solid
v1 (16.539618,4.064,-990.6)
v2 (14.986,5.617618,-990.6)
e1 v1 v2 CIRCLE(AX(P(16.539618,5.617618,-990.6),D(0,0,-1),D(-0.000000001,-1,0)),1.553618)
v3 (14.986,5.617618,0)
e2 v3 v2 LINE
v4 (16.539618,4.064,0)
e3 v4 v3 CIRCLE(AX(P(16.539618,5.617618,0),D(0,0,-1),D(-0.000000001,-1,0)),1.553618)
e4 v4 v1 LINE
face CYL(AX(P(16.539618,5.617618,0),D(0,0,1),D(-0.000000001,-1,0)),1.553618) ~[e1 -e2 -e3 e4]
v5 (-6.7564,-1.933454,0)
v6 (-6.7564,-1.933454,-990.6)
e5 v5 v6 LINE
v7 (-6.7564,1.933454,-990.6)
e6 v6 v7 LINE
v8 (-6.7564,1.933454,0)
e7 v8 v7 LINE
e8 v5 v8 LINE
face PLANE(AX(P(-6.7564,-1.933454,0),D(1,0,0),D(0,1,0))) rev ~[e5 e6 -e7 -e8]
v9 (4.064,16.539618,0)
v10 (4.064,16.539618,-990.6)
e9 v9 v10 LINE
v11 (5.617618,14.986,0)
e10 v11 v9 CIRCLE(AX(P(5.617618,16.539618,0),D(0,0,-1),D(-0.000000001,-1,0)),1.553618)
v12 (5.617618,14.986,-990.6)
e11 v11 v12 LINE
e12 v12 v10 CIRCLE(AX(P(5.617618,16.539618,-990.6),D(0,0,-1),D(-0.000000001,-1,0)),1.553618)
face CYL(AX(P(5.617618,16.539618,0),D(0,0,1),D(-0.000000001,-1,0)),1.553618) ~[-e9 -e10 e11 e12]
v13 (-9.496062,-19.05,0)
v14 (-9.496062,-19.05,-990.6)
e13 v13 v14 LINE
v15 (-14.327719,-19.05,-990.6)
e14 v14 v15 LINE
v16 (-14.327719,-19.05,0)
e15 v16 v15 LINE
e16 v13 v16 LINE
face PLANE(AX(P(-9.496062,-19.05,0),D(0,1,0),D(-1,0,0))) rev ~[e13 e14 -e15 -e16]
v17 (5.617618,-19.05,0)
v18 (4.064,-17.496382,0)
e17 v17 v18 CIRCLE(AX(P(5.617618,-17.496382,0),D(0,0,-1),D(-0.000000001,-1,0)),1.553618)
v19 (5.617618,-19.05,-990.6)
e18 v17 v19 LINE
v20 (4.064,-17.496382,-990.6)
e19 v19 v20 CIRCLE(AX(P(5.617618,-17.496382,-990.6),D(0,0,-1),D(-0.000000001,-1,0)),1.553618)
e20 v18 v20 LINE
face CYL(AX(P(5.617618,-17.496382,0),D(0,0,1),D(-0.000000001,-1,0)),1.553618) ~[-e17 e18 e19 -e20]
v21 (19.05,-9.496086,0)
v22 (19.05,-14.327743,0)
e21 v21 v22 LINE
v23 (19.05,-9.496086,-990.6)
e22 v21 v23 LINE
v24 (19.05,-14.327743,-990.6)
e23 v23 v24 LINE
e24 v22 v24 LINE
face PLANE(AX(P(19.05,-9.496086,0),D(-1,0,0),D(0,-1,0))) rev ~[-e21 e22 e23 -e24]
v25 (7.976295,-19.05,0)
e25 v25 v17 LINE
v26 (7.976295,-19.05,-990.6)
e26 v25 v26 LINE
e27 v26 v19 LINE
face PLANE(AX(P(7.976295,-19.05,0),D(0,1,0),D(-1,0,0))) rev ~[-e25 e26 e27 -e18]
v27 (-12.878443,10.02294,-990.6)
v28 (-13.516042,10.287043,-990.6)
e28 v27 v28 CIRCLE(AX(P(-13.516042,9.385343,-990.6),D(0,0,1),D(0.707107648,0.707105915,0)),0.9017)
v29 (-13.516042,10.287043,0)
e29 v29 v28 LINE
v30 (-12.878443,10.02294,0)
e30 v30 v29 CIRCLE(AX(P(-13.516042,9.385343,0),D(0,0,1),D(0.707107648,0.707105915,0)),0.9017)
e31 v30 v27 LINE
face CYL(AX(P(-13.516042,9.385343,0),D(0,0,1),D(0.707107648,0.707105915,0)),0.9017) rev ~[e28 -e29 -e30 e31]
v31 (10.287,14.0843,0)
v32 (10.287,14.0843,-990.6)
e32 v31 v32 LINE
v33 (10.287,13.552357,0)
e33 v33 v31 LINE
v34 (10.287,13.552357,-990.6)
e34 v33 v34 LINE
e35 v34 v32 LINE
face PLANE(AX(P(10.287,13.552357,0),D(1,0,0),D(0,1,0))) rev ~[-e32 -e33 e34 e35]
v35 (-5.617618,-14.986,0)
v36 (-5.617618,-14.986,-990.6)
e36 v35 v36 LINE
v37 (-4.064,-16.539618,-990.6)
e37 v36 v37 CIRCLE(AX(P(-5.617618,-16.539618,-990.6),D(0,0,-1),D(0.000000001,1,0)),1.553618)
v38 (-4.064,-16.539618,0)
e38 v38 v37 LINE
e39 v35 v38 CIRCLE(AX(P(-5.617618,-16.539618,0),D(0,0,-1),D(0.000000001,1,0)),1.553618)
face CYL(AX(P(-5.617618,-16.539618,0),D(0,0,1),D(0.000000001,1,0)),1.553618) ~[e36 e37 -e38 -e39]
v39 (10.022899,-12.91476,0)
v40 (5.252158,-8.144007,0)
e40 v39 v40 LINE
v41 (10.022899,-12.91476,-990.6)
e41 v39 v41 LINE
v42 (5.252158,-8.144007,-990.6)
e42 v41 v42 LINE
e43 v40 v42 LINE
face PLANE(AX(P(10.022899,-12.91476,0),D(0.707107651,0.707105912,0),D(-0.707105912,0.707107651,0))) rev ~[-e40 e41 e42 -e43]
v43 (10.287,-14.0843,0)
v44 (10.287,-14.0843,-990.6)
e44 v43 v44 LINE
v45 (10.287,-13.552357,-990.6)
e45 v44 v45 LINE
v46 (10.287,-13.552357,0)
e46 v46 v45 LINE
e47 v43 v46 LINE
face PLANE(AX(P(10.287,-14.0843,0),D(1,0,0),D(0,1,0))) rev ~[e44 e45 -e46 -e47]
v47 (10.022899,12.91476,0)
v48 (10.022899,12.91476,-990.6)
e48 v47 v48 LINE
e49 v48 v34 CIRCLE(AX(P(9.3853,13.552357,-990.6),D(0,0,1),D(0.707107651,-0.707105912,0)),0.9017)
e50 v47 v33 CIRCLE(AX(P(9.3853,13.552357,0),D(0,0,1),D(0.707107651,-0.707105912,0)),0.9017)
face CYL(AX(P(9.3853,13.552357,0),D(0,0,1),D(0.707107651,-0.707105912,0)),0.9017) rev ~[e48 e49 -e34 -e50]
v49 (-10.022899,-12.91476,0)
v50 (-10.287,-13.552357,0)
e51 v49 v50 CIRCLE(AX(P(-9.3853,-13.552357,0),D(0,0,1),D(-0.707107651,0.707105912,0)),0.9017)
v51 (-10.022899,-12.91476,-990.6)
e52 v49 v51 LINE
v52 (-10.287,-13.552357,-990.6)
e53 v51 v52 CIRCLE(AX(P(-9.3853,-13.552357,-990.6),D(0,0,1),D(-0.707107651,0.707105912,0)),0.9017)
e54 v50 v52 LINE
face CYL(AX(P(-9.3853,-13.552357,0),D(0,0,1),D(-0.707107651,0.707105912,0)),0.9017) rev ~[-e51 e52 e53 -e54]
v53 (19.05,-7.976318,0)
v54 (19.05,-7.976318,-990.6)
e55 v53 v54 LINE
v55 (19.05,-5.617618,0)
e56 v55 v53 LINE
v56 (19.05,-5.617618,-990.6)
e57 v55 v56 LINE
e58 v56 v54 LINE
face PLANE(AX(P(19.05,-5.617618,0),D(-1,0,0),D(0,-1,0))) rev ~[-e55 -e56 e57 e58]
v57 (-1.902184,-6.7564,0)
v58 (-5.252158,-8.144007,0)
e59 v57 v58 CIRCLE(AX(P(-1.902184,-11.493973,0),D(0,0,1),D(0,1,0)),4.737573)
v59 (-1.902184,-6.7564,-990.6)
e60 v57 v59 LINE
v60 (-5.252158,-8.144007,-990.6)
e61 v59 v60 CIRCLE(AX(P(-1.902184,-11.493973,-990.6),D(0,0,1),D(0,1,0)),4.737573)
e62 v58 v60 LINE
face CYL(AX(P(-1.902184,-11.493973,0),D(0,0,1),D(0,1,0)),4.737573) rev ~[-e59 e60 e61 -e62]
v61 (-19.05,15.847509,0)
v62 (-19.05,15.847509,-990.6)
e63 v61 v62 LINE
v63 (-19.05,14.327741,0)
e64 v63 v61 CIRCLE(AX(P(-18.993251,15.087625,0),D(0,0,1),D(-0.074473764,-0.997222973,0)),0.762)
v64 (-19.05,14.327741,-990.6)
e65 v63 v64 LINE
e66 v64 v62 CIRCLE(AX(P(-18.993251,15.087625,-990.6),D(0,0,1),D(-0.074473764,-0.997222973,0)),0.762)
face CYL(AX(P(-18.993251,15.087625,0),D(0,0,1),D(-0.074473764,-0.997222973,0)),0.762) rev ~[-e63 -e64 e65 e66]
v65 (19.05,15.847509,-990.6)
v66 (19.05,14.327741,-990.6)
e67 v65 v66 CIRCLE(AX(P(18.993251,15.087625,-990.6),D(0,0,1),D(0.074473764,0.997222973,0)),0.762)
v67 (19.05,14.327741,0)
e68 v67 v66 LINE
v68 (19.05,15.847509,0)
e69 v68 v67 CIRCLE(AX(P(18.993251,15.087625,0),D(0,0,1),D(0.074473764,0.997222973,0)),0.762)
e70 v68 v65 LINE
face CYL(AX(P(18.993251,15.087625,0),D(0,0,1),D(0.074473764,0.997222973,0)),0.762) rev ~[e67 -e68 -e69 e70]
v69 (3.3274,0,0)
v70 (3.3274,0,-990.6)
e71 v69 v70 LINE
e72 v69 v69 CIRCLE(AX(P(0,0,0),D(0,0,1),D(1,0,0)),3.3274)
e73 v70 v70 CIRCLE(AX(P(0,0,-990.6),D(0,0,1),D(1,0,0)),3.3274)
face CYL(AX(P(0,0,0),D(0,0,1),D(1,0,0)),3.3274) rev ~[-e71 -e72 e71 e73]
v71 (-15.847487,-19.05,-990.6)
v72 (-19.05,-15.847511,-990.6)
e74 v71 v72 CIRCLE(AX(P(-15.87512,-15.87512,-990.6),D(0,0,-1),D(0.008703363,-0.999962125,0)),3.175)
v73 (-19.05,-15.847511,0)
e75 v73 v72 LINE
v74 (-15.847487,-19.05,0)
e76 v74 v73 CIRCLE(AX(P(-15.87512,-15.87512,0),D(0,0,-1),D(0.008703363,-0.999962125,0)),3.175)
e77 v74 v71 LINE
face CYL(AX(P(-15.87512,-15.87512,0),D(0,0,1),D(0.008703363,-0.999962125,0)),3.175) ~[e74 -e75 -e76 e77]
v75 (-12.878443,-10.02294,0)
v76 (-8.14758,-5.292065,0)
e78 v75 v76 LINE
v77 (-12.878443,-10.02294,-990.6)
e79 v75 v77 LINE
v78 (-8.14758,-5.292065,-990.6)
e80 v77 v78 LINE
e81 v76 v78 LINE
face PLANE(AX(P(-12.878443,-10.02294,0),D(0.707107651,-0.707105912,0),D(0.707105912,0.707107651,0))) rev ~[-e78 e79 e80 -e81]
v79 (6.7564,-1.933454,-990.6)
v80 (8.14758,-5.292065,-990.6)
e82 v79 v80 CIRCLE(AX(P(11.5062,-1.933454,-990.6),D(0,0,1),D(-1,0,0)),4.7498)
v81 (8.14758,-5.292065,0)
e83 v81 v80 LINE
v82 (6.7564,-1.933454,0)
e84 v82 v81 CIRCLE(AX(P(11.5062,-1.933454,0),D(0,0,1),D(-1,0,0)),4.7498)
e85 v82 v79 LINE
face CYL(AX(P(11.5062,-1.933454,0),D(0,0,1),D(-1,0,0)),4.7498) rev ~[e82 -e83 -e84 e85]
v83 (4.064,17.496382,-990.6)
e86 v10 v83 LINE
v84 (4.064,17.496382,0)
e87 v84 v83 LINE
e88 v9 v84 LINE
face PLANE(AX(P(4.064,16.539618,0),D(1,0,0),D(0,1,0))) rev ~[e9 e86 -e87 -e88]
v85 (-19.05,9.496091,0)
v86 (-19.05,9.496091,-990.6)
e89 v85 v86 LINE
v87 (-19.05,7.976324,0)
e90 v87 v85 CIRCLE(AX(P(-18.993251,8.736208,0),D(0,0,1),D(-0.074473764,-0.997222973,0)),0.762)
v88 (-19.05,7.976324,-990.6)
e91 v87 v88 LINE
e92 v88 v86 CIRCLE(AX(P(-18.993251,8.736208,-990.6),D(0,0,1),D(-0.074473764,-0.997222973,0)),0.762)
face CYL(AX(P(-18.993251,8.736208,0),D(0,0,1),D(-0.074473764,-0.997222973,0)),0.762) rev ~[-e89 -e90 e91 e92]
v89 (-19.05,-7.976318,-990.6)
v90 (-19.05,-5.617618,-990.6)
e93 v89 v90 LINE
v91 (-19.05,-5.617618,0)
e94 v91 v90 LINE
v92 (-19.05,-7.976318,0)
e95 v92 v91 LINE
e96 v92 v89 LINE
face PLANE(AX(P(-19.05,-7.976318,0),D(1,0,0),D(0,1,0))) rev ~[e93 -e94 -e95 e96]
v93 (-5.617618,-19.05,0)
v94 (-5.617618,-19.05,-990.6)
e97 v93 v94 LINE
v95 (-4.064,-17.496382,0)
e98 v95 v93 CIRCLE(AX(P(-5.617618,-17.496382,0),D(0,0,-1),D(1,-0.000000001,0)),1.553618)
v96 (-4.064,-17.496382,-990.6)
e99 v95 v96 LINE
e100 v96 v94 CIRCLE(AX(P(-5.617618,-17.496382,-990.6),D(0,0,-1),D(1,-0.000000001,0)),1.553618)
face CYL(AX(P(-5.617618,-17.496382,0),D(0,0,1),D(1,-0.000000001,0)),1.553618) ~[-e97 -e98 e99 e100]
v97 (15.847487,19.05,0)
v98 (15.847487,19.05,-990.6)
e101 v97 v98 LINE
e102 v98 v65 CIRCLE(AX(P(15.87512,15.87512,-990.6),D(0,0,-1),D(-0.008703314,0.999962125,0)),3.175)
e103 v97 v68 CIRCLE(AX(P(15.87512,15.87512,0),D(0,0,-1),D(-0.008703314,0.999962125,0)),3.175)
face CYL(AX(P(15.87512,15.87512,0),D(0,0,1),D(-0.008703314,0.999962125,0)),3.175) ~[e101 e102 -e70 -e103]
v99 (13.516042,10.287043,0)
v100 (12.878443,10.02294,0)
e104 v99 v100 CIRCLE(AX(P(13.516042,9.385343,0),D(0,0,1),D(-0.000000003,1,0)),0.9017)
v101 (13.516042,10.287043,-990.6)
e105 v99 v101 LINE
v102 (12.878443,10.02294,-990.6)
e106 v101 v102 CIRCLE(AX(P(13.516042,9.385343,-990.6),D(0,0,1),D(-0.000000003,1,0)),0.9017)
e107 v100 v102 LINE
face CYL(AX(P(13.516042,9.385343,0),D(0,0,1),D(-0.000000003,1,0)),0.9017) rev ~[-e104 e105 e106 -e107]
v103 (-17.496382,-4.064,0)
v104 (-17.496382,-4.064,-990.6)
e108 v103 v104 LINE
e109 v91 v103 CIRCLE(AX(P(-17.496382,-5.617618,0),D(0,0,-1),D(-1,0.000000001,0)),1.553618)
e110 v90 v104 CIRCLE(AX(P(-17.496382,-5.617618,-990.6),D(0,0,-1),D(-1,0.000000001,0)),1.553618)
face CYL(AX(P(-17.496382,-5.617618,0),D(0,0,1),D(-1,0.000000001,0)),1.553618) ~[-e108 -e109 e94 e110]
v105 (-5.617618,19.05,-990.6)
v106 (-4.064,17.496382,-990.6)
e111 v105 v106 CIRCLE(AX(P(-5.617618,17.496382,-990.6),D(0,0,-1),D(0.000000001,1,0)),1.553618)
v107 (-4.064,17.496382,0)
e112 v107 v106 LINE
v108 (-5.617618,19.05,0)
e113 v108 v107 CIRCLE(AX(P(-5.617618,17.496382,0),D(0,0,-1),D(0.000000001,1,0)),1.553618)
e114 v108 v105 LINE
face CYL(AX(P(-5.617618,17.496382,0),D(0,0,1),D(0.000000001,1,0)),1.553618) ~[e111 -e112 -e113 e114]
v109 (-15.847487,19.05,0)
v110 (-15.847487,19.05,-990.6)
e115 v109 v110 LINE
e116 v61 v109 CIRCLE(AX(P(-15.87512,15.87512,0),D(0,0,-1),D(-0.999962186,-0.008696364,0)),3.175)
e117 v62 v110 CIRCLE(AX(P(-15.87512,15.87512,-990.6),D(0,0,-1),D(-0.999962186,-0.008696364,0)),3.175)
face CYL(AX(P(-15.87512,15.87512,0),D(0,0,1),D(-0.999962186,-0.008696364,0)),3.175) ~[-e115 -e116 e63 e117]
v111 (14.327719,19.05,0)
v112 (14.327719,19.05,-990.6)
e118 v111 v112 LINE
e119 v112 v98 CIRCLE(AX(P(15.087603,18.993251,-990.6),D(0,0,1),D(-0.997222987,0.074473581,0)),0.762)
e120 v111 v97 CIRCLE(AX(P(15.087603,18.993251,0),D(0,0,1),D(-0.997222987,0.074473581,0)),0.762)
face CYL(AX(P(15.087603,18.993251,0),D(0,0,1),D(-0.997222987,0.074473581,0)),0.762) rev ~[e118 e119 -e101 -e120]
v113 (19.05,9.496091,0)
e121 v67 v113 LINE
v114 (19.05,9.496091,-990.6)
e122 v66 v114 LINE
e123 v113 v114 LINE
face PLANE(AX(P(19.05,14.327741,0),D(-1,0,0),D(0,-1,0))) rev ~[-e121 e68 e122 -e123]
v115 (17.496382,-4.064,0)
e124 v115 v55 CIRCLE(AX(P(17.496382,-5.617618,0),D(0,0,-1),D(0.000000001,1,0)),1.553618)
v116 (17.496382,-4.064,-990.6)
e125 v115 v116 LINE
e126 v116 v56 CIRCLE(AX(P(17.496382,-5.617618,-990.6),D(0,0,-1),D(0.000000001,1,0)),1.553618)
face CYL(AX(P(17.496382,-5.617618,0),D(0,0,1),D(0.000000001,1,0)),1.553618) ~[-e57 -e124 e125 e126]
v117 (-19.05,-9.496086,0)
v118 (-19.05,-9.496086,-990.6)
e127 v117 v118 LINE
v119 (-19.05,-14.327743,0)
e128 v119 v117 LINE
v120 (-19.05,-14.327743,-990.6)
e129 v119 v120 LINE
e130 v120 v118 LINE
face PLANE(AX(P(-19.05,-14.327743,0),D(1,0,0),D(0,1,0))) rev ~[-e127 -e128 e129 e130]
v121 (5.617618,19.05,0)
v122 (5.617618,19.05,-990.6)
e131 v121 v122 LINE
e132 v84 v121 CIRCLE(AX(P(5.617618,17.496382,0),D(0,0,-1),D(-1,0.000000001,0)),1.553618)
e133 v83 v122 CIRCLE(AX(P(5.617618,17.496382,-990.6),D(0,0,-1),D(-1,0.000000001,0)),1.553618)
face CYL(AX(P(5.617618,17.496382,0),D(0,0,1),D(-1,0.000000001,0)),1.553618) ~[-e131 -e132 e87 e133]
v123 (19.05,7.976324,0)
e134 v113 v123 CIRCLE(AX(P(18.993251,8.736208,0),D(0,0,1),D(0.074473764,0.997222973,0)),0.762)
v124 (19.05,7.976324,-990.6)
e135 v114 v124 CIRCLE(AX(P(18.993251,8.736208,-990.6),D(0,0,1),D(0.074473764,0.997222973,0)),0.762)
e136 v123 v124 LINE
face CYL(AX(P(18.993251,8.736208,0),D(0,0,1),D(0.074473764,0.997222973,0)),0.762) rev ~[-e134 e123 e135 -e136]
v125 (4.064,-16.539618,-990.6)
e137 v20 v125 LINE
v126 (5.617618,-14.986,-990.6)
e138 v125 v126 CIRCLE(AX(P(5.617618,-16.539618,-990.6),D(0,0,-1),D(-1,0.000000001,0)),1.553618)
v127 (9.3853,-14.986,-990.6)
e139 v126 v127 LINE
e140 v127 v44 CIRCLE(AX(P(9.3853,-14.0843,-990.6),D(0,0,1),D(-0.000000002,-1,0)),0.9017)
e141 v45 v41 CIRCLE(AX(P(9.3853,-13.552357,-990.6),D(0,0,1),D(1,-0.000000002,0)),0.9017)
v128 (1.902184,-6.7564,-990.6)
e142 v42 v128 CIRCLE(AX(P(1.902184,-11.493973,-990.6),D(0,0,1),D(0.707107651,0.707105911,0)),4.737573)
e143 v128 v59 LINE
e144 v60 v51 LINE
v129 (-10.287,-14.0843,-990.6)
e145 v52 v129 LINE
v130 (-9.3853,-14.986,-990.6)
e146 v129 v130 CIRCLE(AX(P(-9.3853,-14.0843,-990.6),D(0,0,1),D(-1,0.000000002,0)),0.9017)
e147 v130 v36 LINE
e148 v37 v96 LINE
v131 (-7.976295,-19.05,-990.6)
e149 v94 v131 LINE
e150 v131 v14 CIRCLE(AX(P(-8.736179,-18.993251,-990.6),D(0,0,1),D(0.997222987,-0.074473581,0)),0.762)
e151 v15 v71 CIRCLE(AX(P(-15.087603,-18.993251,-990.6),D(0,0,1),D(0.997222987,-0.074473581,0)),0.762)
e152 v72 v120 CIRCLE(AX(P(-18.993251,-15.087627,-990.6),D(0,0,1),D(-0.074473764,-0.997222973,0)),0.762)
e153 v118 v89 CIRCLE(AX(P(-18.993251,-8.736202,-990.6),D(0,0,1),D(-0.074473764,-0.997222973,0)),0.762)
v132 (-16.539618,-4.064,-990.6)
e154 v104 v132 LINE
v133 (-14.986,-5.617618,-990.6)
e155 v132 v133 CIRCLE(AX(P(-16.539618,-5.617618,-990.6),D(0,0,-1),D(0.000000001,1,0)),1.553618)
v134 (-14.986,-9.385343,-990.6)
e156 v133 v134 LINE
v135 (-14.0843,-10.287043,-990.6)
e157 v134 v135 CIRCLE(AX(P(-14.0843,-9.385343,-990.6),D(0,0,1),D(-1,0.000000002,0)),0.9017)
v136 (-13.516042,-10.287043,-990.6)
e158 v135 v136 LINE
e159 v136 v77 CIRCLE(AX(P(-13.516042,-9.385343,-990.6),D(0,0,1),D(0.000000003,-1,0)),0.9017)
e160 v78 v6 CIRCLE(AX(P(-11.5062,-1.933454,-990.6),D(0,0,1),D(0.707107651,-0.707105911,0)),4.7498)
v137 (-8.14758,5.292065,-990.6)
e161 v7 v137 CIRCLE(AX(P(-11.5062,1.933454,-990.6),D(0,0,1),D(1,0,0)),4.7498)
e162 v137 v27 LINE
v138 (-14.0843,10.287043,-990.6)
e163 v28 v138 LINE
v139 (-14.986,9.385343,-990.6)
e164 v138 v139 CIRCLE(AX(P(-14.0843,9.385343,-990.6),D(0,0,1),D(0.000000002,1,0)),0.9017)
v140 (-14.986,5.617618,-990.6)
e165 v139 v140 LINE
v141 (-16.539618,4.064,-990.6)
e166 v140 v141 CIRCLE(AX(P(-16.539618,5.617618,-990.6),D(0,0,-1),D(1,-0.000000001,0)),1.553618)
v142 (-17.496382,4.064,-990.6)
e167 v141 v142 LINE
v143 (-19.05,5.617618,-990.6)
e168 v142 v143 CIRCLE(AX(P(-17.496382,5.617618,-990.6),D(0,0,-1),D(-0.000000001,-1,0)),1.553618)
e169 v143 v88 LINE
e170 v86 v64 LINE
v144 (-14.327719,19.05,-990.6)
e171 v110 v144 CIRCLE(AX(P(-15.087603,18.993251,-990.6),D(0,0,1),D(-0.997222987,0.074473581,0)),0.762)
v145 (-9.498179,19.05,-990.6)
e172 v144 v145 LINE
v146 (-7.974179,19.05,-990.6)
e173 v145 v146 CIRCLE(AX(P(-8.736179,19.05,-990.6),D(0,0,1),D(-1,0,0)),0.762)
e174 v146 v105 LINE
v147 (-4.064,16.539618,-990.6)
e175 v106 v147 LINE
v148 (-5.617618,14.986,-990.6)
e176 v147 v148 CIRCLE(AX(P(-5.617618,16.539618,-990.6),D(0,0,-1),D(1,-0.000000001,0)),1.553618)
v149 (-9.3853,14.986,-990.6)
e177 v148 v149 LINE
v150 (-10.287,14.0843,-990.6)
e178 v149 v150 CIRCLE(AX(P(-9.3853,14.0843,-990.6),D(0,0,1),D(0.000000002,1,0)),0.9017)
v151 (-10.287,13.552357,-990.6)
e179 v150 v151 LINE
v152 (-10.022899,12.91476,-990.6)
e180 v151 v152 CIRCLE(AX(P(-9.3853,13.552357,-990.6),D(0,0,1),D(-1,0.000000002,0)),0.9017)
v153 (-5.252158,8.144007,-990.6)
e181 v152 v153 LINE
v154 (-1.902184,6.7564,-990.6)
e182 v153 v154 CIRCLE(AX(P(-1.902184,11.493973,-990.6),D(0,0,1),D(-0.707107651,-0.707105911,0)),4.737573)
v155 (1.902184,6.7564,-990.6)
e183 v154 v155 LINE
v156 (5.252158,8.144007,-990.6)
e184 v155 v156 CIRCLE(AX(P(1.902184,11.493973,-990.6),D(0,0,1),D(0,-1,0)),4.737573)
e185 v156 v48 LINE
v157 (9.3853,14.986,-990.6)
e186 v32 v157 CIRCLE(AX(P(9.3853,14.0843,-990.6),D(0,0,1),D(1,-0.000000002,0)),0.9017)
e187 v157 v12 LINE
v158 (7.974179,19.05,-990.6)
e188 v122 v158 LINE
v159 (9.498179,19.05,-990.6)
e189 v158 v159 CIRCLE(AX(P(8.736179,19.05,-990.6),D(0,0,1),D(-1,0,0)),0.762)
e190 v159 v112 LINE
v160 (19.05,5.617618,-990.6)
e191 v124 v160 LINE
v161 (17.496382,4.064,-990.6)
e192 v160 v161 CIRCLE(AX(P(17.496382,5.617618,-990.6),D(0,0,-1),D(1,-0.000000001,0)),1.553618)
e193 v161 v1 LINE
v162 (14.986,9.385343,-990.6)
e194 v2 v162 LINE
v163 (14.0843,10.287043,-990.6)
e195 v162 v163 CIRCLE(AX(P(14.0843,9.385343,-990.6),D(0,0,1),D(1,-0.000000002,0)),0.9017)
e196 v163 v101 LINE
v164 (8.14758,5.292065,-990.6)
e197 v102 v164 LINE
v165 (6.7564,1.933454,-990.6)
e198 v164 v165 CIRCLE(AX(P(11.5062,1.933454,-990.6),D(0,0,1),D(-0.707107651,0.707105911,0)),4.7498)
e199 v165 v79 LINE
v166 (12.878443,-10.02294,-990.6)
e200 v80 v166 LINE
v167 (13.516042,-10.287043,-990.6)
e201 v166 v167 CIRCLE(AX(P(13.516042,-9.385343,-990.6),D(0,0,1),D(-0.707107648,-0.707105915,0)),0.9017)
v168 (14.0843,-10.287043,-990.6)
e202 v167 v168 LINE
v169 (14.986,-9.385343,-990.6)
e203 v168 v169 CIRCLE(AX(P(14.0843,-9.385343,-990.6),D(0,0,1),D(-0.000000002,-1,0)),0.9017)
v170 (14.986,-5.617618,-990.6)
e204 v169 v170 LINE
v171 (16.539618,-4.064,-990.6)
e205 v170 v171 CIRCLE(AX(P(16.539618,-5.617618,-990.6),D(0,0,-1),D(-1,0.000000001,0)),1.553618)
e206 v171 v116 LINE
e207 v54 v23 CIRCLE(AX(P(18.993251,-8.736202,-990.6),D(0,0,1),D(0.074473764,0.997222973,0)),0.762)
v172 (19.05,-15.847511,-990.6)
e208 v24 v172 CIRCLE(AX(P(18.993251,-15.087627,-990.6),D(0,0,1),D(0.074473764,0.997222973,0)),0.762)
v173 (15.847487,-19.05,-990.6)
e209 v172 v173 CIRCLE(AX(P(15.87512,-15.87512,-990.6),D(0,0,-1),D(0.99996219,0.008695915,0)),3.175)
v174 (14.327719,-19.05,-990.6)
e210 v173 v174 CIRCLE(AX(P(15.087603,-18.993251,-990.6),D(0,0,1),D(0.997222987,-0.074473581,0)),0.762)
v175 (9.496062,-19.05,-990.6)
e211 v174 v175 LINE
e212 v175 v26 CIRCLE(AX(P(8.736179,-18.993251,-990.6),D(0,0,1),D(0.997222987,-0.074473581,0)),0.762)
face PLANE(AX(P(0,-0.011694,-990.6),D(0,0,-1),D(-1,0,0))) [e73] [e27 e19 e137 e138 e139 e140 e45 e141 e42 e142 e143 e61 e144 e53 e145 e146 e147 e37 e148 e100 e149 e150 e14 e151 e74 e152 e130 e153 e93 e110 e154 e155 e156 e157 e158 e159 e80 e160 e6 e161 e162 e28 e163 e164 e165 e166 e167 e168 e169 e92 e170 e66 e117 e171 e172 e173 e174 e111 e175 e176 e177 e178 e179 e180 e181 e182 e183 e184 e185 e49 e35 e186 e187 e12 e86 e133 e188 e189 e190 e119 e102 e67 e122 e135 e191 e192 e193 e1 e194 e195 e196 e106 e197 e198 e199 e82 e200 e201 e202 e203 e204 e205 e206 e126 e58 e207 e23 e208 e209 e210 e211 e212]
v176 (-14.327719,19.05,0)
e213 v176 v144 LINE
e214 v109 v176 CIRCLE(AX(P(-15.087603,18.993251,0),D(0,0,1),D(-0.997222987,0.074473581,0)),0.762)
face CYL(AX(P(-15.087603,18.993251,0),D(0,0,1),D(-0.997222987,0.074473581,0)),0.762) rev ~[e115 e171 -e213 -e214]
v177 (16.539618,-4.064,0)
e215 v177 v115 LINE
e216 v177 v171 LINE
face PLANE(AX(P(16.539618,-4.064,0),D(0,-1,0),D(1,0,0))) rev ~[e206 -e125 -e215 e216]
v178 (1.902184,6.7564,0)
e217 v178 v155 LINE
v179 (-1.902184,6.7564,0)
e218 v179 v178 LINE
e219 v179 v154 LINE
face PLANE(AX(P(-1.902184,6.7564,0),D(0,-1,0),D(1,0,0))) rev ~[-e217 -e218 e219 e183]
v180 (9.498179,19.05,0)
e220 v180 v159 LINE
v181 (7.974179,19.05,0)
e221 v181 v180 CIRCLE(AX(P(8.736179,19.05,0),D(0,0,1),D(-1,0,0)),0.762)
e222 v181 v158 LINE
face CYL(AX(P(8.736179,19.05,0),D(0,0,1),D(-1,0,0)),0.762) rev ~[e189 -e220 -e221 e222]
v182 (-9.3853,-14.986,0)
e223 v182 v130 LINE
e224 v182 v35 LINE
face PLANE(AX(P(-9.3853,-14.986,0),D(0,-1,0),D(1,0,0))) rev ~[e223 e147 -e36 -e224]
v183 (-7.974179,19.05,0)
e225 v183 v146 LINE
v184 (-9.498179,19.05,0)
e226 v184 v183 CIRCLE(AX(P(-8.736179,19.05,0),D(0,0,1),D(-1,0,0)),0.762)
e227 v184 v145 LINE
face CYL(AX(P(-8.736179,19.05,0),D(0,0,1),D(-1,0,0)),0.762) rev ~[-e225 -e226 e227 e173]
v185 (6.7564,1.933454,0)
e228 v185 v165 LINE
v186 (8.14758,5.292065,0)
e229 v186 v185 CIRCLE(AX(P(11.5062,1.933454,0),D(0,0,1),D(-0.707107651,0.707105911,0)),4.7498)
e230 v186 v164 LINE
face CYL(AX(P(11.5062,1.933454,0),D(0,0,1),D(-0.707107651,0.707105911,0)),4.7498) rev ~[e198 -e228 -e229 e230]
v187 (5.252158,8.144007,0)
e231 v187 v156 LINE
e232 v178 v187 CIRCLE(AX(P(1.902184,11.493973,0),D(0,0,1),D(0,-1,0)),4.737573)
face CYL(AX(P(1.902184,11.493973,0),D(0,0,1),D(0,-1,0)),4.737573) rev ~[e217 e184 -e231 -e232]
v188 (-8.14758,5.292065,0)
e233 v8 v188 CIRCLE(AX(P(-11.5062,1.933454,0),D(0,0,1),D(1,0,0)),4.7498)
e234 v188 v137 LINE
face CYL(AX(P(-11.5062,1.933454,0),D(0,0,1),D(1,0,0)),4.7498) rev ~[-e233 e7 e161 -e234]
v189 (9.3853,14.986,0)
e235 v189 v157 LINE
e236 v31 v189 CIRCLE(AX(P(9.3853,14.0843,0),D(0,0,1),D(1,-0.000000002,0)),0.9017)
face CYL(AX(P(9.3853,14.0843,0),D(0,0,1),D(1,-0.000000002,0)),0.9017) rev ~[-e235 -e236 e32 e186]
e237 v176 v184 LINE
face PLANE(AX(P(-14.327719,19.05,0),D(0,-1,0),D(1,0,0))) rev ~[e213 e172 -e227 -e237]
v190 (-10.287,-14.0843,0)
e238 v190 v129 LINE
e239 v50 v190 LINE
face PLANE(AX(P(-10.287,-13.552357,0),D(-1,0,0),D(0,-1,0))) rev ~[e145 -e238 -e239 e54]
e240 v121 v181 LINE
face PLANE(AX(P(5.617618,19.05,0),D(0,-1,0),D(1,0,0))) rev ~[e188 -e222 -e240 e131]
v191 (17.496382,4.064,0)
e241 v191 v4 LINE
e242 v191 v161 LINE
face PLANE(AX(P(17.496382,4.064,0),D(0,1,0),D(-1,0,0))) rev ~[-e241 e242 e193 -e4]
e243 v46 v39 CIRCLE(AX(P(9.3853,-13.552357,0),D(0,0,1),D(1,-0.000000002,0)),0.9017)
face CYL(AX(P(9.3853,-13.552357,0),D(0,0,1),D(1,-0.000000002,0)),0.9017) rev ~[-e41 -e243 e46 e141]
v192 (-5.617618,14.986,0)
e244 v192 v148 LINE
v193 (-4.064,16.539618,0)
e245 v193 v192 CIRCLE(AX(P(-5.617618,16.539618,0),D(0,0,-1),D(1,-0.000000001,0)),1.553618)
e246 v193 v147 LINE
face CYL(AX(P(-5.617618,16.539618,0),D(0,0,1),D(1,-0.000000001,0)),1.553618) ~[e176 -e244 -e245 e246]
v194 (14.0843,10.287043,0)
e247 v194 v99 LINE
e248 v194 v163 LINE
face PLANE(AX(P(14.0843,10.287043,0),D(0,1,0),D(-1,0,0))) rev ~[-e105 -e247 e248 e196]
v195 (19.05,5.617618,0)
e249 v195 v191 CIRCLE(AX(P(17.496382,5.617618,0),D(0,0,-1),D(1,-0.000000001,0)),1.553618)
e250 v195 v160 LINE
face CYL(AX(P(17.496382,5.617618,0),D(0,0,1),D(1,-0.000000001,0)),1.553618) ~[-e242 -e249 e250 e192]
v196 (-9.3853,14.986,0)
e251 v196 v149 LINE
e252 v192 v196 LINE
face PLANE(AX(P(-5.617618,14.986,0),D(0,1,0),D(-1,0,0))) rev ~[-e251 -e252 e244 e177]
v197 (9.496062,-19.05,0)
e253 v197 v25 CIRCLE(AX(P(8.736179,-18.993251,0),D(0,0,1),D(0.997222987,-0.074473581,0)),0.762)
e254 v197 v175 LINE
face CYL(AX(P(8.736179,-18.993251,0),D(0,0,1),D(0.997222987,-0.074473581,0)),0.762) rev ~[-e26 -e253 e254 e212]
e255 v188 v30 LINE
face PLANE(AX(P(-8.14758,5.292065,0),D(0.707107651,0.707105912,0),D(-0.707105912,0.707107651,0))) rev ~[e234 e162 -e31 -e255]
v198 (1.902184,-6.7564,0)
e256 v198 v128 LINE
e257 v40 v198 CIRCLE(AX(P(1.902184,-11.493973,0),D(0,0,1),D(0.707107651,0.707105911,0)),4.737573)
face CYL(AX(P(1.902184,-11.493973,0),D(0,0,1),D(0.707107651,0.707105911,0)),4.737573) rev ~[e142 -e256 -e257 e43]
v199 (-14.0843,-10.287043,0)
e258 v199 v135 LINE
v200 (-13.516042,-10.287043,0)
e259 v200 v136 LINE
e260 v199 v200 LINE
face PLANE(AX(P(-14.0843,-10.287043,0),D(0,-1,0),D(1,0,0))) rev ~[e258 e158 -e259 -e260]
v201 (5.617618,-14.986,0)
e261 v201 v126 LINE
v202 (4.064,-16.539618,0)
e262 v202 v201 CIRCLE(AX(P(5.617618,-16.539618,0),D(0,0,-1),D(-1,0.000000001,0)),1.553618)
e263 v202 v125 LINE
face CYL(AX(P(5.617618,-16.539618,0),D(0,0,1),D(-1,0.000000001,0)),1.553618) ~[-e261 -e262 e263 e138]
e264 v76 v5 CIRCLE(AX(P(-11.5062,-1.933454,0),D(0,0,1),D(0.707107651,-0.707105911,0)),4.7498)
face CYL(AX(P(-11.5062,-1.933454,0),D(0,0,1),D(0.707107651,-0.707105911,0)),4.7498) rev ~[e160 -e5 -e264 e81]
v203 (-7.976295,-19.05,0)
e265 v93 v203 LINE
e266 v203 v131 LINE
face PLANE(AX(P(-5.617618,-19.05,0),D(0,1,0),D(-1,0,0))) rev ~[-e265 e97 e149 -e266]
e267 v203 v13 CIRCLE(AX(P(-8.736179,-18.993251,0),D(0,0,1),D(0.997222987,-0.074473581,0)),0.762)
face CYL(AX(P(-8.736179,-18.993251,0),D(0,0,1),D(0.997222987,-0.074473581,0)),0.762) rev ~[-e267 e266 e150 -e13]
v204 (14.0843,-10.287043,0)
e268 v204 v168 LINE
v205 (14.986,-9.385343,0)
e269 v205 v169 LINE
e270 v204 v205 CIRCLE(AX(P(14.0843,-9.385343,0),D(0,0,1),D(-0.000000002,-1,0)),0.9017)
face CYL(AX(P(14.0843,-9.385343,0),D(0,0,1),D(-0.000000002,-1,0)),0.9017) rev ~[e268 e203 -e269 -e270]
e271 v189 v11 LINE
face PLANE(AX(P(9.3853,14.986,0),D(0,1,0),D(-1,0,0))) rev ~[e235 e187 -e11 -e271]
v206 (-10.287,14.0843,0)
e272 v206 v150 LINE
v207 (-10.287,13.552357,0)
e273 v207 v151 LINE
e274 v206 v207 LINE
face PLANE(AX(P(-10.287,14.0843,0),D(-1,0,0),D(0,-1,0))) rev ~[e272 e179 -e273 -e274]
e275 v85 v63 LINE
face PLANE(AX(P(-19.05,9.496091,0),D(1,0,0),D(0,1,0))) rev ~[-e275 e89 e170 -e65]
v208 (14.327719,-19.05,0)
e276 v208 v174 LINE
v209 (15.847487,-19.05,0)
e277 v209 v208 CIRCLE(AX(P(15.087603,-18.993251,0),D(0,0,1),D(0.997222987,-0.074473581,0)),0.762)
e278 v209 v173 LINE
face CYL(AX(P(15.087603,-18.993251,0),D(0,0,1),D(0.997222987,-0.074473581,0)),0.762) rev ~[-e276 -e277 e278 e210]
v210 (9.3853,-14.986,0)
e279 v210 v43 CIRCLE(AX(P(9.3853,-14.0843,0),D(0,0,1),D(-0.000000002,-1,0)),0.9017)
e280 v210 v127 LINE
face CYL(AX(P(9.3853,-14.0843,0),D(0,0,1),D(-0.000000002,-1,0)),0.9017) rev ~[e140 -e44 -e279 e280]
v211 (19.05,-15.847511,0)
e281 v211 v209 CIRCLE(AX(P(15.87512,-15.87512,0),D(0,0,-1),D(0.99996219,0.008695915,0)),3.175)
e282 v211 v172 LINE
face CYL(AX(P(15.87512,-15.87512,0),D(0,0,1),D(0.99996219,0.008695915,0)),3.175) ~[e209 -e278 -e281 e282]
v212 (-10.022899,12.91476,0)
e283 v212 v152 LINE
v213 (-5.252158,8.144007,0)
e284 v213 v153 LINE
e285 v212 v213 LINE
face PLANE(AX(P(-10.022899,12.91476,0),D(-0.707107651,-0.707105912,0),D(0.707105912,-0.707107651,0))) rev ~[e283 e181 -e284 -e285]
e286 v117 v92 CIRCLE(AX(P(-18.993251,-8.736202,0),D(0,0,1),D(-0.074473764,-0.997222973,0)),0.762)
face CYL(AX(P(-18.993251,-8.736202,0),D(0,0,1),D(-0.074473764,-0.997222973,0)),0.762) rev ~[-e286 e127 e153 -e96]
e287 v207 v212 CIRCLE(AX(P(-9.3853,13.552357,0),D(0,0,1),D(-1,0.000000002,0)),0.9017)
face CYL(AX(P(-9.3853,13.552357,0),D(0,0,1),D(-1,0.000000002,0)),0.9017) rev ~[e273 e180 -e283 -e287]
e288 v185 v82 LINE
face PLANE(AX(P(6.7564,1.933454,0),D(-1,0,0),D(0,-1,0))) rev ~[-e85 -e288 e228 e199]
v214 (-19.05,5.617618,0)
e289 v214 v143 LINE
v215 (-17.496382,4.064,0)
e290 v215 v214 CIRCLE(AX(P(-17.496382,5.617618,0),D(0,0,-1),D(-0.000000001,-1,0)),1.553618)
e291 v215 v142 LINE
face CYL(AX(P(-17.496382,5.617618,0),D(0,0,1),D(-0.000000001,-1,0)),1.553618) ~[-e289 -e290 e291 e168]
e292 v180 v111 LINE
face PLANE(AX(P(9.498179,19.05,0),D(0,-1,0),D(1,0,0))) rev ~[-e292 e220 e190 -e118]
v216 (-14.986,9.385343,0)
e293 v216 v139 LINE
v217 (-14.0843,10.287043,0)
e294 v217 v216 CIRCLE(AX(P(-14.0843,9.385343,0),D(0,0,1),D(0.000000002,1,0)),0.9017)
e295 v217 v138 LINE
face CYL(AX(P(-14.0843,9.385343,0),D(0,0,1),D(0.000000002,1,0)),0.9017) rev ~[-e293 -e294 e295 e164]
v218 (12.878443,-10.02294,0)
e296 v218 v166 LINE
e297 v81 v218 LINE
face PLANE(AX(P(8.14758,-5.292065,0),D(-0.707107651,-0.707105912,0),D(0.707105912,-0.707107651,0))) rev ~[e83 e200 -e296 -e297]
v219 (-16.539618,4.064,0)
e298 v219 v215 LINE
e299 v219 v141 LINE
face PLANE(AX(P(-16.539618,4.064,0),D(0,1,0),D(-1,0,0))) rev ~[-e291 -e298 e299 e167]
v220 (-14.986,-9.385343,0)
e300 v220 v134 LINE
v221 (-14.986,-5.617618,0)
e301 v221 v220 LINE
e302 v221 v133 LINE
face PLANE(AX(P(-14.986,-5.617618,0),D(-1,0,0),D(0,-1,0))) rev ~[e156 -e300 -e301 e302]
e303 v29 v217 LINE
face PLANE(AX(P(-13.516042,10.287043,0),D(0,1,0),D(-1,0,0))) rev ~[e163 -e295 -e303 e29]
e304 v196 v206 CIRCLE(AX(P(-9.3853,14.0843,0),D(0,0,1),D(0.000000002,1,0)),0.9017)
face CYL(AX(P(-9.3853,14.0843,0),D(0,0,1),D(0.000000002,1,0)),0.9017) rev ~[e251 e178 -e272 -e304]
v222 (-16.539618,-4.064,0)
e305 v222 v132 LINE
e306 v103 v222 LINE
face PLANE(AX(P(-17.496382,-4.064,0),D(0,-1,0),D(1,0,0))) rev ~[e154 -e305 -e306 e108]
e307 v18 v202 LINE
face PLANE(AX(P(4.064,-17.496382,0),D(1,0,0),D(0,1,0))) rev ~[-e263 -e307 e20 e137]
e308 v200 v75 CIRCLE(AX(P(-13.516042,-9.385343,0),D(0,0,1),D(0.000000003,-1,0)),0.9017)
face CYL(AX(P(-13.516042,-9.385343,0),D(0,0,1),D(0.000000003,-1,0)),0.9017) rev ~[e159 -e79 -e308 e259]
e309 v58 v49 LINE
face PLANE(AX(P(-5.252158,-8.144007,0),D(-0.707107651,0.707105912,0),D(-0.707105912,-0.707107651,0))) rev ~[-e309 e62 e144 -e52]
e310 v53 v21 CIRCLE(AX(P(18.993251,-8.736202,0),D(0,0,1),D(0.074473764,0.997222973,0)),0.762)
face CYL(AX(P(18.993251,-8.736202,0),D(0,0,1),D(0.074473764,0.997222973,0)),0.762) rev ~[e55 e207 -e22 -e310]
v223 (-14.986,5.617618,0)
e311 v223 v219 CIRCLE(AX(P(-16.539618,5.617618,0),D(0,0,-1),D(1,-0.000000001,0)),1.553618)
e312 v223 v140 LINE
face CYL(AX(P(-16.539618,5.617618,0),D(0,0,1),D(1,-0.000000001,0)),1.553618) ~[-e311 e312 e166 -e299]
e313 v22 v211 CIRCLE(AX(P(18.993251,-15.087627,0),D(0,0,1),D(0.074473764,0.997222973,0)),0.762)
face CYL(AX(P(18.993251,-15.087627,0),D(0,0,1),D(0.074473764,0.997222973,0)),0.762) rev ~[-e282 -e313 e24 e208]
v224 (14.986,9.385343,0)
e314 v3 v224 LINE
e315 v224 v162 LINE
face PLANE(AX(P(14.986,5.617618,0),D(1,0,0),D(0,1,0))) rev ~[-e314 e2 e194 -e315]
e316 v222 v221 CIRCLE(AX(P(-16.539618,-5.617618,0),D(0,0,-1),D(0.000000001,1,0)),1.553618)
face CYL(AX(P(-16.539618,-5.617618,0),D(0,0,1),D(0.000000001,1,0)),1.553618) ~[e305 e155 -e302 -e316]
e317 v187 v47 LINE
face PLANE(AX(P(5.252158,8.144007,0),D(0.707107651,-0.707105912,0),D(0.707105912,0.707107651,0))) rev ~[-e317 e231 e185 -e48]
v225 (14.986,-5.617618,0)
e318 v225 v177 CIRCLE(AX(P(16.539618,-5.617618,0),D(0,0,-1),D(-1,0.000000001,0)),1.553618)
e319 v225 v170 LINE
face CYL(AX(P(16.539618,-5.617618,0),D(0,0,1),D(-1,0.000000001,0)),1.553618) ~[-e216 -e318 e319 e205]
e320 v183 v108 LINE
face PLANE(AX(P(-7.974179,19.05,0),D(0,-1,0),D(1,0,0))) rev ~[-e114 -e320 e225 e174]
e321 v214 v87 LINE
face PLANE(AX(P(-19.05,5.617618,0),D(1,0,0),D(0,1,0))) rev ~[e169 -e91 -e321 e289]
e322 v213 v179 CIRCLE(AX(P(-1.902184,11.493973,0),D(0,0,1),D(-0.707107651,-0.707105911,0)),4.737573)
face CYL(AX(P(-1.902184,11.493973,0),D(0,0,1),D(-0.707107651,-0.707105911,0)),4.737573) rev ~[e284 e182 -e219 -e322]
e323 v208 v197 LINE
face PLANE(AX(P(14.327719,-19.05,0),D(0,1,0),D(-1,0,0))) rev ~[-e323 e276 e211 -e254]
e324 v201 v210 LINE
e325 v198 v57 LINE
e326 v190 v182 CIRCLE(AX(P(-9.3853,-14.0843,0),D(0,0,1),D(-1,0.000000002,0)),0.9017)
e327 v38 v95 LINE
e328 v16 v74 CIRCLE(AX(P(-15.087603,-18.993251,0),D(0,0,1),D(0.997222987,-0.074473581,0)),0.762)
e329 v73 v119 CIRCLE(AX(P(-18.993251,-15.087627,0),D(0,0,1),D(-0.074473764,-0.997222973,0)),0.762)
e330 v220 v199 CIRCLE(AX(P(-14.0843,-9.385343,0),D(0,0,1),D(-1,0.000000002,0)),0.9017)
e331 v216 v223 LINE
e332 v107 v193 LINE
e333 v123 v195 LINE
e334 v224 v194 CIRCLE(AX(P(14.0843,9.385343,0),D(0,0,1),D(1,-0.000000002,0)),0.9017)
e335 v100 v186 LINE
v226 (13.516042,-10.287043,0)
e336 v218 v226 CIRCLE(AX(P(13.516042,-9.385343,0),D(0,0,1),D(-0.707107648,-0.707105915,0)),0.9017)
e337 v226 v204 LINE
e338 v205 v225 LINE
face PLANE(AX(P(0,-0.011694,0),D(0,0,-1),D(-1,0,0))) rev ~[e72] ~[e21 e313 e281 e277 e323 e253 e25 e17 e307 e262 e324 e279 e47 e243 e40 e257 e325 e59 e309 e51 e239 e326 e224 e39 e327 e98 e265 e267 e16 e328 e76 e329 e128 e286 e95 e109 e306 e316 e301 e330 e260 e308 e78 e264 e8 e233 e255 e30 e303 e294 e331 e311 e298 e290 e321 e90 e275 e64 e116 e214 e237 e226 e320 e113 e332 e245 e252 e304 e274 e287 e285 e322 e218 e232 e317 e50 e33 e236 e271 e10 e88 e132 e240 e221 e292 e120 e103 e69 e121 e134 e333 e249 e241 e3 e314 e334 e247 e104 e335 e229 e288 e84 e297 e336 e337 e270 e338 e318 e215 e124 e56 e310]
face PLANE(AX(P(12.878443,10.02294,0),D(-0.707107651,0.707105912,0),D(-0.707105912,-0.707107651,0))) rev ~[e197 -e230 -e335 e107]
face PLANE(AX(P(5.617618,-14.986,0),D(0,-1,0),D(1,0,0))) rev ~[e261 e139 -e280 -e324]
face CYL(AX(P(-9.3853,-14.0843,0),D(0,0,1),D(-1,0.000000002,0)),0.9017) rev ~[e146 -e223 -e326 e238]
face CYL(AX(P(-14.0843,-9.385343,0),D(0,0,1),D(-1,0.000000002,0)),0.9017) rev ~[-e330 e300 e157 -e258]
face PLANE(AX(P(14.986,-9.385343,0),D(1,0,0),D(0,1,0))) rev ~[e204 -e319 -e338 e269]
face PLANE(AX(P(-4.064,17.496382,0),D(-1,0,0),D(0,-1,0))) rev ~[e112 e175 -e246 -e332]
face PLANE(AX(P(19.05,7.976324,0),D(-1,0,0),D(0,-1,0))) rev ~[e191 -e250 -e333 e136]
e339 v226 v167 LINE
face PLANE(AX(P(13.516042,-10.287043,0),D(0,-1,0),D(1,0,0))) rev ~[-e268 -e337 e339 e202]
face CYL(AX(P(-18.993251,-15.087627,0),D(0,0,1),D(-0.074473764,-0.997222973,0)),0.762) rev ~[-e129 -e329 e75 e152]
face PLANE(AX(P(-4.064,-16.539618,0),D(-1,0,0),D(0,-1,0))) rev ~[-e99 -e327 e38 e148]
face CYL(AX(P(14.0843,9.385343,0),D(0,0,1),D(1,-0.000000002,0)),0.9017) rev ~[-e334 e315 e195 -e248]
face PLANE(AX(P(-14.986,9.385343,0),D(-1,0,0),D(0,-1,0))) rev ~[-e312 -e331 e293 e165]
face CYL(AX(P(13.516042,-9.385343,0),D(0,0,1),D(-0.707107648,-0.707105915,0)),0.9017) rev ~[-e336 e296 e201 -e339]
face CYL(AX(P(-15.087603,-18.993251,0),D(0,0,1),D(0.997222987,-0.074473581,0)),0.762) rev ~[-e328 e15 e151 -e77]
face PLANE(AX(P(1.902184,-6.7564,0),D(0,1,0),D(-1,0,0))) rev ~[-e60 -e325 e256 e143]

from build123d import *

# Parameters (mm, degrees)
SKETCH1_R      = 3.3274
EXTRUDE1_DEPTH = 990.6


with BuildPart() as part:
    # Sketch1 → Extrude1 (new body)
    with BuildSketch(Plane.XY):
        with BuildLine():
            Line((-10.022898969, 12.91475973), (-5.252158105, 8.144007132))
            ThreePointArc((-5.252158105, 8.144007132), (-3.715177372, 7.117027388), (-1.902183975, 6.7564))
            Line((-1.902183975, 6.7564), (1.902183975, 6.7564))
            ThreePointArc((1.902183975, 6.7564), (3.715177372, 7.117027388), (5.252158105, 8.144007132))
            Line((5.252158105, 8.144007132), (10.022898969, 12.91475973))
            ThreePointArc((10.022898969, 12.91475973), (10.218362387, 13.207291992), (10.287, 13.552357131))
            Line((10.287, 13.552357131), (10.287, 14.0843))
            ThreePointArc((10.287, 14.0843), (10.022898185, 14.721898185), (9.3853, 14.986))
            Line((9.3853, 14.986), (5.617617549, 14.986))
            ThreePointArc((5.617617549, 14.986), (4.519044045, 15.441044045), (4.064, 16.539617549))
            Line((4.064, 16.539617549), (4.064, 17.496382451))
            ThreePointArc((4.064, 17.496382451), (4.519044045, 18.594955955), (5.617617549, 19.05))
            Line((5.617617549, 19.05), (7.974178704, 19.05))
            ThreePointArc((7.974178704, 19.05), (8.736178704, 18.288), (9.498178704, 19.05))
            Line((9.498178704, 19.05), (14.327719207, 19.05))
            ThreePointArc((14.327719207, 19.05), (15.087603123, 18.231251131), (15.847487039, 19.05))
            ThreePointArc((15.847487039, 19.05), (18.120176289, 18.120192083), (19.05, 15.847509295))
            ThreePointArc((19.05, 15.847509295), (18.231250992, 15.08762539), (19.05, 14.327741484))
            Line((19.05, 14.327741484), (19.05, 9.496091471))
            ThreePointArc((19.05, 9.496091471), (18.231250992, 8.736207565), (19.05, 7.97632366))
            Line((19.05, 7.97632366), (19.05, 5.617617549))
            ThreePointArc((19.05, 5.617617549), (18.594955955, 4.519044045), (17.496382451, 4.064))
            Line((17.496382451, 4.064), (16.539617549, 4.064))
            ThreePointArc((16.539617549, 4.064), (15.441044045, 4.519044045), (14.986, 5.617617549))
            Line((14.986, 5.617617549), (14.986, 9.385342516))
            ThreePointArc((14.986, 9.385342516), (14.721898185, 10.022940701), (14.0843, 10.287042516))
            Line((14.0843, 10.287042516), (13.516042086, 10.287042516))
            ThreePointArc((13.516042086, 10.287042516), (13.170975923, 10.218404478), (12.878443117, 10.022939917))
            Line((12.878443117, 10.022939917), (8.14758008, 5.292065243))
            ThreePointArc((8.14758008, 5.292065243), (7.117955879, 3.751120653), (6.7564, 1.933453584))
            Line((6.7564, 1.933453584), (6.7564, -1.933453584))
            ThreePointArc((6.7564, -1.933453584), (7.117955879, -3.751120653), (8.14758008, -5.292065243))
            Line((8.14758008, -5.292065243), (12.878443117, -10.022939917))
            ThreePointArc((12.878443117, -10.022939917), (13.170975923, -10.218404478), (13.516042086, -10.287042516))
            Line((13.516042086, -10.287042516), (14.0843, -10.287042516))
            ThreePointArc((14.0843, -10.287042516), (14.721898185, -10.022940701), (14.986, -9.385342516))
            Line((14.986, -9.385342516), (14.986, -5.617617549))
            ThreePointArc((14.986, -5.617617549), (15.441044045, -4.519044045), (16.539617549, -4.064))
            Line((16.539617549, -4.064), (17.496382451, -4.064))
            ThreePointArc((17.496382451, -4.064), (18.594955955, -4.519044045), (19.05, -5.617617549))
            Line((19.05, -5.617617549), (19.05, -7.976318491))
            ThreePointArc((19.05, -7.976318491), (18.231250992, -8.736202396), (19.05, -9.496086302))
            Line((19.05, -9.496086302), (19.05, -14.32774291))
            ThreePointArc((19.05, -14.32774291), (18.231250992, -15.087626816), (19.05, -15.847510721))
            ThreePointArc((19.05, -15.847510721), (18.120175716, -18.120192644), (15.847486868, -19.05))
            ThreePointArc((15.847486868, -19.05), (15.087602952, -18.231251131), (14.327719036, -19.05))
            Line((14.327719036, -19.05), (9.496062448, -19.05))
            ThreePointArc((9.496062448, -19.05), (8.736178532, -18.231251131), (7.976294616, -19.05))
            Line((7.976294616, -19.05), (5.617617549, -19.05))
            ThreePointArc((5.617617549, -19.05), (4.519044045, -18.594955955), (4.064, -17.496382451))
            Line((4.064, -17.496382451), (4.064, -16.539617549))
            ThreePointArc((4.064, -16.539617549), (4.519044045, -15.441044045), (5.617617549, -14.986))
            Line((5.617617549, -14.986), (9.3853, -14.986))
            ThreePointArc((9.3853, -14.986), (10.022898185, -14.721898185), (10.287, -14.0843))
            Line((10.287, -14.0843), (10.287, -13.552357131))
            ThreePointArc((10.287, -13.552357131), (10.218362387, -13.207291992), (10.022898969, -12.91475973))
            Line((10.022898969, -12.91475973), (5.252158105, -8.144007132))
            ThreePointArc((5.252158105, -8.144007132), (3.715177372, -7.117027388), (1.902183975, -6.7564))
            Line((1.902183975, -6.7564), (-1.902183975, -6.7564))
            ThreePointArc((-1.902183975, -6.7564), (-3.715177372, -7.117027388), (-5.252158105, -8.144007132))
            Line((-5.252158105, -8.144007132), (-10.022898969, -12.91475973))
            ThreePointArc((-10.022898969, -12.91475973), (-10.218362387, -13.207291992), (-10.287, -13.552357131))
            Line((-10.287, -13.552357131), (-10.287, -14.0843))
            ThreePointArc((-10.287, -14.0843), (-10.022898185, -14.721898185), (-9.3853, -14.986))
            Line((-9.3853, -14.986), (-5.617617549, -14.986))
            ThreePointArc((-5.617617549, -14.986), (-4.519044045, -15.441044045), (-4.064, -16.539617549))
            Line((-4.064, -16.539617549), (-4.064, -17.496382451))
            ThreePointArc((-4.064, -17.496382451), (-4.519044045, -18.594955955), (-5.617617549, -19.05))
            Line((-5.617617549, -19.05), (-7.976294616, -19.05))
            ThreePointArc((-7.976294616, -19.05), (-8.736178532, -18.231251131), (-9.496062448, -19.05))
            Line((-9.496062448, -19.05), (-14.327719036, -19.05))
            ThreePointArc((-14.327719036, -19.05), (-15.087602952, -18.231251131), (-15.847486868, -19.05))
            ThreePointArc((-15.847486868, -19.05), (-18.120175716, -18.120192644), (-19.05, -15.847510721))
            ThreePointArc((-19.05, -15.847510721), (-18.231250992, -15.087626816), (-19.05, -14.32774291))
            Line((-19.05, -14.32774291), (-19.05, -9.496086302))
            ThreePointArc((-19.05, -9.496086302), (-18.231250992, -8.736202396), (-19.05, -7.976318491))
            Line((-19.05, -7.976318491), (-19.05, -5.617617549))
            ThreePointArc((-19.05, -5.617617549), (-18.594955955, -4.519044045), (-17.496382451, -4.064))
            Line((-17.496382451, -4.064), (-16.539617549, -4.064))
            ThreePointArc((-16.539617549, -4.064), (-15.441044045, -4.519044045), (-14.986, -5.617617549))
            Line((-14.986, -5.617617549), (-14.986, -9.385342516))
            ThreePointArc((-14.986, -9.385342516), (-14.721898185, -10.022940701), (-14.0843, -10.287042516))
            Line((-14.0843, -10.287042516), (-13.516042086, -10.287042516))
            ThreePointArc((-13.516042086, -10.287042516), (-13.170975923, -10.218404478), (-12.878443117, -10.022939917))
            Line((-12.878443117, -10.022939917), (-8.14758008, -5.292065243))
            ThreePointArc((-8.14758008, -5.292065243), (-7.117955879, -3.751120653), (-6.7564, -1.933453584))
            Line((-6.7564, -1.933453584), (-6.7564, 1.933453584))
            ThreePointArc((-6.7564, 1.933453584), (-7.117955879, 3.751120653), (-8.14758008, 5.292065243))
            Line((-8.14758008, 5.292065243), (-12.878443117, 10.022939917))
            ThreePointArc((-12.878443117, 10.022939917), (-13.170975923, 10.218404478), (-13.516042086, 10.287042516))
            Line((-13.516042086, 10.287042516), (-14.0843, 10.287042516))
            ThreePointArc((-14.0843, 10.287042516), (-14.721898185, 10.022940701), (-14.986, 9.385342516))
            Line((-14.986, 9.385342516), (-14.986, 5.617617549))
            ThreePointArc((-14.986, 5.617617549), (-15.441044045, 4.519044045), (-16.539617549, 4.064))
            Line((-16.539617549, 4.064), (-17.496382451, 4.064))
            ThreePointArc((-17.496382451, 4.064), (-18.594955955, 4.519044045), (-19.05, 5.617617549))
            Line((-19.05, 5.617617549), (-19.05, 7.97632366))
            ThreePointArc((-19.05, 7.97632366), (-18.231250992, 8.736207565), (-19.05, 9.496091471))
            Line((-19.05, 9.496091471), (-19.05, 14.327741484))
            ThreePointArc((-19.05, 14.327741484), (-18.231250992, 15.08762539), (-19.05, 15.847509295))
            ThreePointArc((-19.05, 15.847509295), (-18.120176289, 18.120192083), (-15.847487039, 19.05))
            ThreePointArc((-15.847487039, 19.05), (-15.087603123, 18.231251131), (-14.327719207, 19.05))
            Line((-14.327719207, 19.05), (-9.498178704, 19.05))
            ThreePointArc((-9.498178704, 19.05), (-8.736178704, 18.288), (-7.974178704, 19.05))
            Line((-7.974178704, 19.05), (-5.617617549, 19.05))
            ThreePointArc((-5.617617549, 19.05), (-4.519044045, 18.594955955), (-4.064, 17.496382451))
            Line((-4.064, 17.496382451), (-4.064, 16.539617549))
            ThreePointArc((-4.064, 16.539617549), (-4.519044045, 15.441044045), (-5.617617549, 14.986))
            Line((-5.617617549, 14.986), (-9.3853, 14.986))
            ThreePointArc((-9.3853, 14.986), (-10.022898185, 14.721898185), (-10.287, 14.0843))
            Line((-10.287, 14.0843), (-10.287, 13.552357131))
            ThreePointArc((-10.287, 13.552357131), (-10.218362387, 13.207291992), (-10.022898969, 12.91475973))
        make_face()
        Circle(SKETCH1_R, mode=Mode.SUBTRACT)
    extrude(amount=-EXTRUDE1_DEPTH)


solid = part.part
